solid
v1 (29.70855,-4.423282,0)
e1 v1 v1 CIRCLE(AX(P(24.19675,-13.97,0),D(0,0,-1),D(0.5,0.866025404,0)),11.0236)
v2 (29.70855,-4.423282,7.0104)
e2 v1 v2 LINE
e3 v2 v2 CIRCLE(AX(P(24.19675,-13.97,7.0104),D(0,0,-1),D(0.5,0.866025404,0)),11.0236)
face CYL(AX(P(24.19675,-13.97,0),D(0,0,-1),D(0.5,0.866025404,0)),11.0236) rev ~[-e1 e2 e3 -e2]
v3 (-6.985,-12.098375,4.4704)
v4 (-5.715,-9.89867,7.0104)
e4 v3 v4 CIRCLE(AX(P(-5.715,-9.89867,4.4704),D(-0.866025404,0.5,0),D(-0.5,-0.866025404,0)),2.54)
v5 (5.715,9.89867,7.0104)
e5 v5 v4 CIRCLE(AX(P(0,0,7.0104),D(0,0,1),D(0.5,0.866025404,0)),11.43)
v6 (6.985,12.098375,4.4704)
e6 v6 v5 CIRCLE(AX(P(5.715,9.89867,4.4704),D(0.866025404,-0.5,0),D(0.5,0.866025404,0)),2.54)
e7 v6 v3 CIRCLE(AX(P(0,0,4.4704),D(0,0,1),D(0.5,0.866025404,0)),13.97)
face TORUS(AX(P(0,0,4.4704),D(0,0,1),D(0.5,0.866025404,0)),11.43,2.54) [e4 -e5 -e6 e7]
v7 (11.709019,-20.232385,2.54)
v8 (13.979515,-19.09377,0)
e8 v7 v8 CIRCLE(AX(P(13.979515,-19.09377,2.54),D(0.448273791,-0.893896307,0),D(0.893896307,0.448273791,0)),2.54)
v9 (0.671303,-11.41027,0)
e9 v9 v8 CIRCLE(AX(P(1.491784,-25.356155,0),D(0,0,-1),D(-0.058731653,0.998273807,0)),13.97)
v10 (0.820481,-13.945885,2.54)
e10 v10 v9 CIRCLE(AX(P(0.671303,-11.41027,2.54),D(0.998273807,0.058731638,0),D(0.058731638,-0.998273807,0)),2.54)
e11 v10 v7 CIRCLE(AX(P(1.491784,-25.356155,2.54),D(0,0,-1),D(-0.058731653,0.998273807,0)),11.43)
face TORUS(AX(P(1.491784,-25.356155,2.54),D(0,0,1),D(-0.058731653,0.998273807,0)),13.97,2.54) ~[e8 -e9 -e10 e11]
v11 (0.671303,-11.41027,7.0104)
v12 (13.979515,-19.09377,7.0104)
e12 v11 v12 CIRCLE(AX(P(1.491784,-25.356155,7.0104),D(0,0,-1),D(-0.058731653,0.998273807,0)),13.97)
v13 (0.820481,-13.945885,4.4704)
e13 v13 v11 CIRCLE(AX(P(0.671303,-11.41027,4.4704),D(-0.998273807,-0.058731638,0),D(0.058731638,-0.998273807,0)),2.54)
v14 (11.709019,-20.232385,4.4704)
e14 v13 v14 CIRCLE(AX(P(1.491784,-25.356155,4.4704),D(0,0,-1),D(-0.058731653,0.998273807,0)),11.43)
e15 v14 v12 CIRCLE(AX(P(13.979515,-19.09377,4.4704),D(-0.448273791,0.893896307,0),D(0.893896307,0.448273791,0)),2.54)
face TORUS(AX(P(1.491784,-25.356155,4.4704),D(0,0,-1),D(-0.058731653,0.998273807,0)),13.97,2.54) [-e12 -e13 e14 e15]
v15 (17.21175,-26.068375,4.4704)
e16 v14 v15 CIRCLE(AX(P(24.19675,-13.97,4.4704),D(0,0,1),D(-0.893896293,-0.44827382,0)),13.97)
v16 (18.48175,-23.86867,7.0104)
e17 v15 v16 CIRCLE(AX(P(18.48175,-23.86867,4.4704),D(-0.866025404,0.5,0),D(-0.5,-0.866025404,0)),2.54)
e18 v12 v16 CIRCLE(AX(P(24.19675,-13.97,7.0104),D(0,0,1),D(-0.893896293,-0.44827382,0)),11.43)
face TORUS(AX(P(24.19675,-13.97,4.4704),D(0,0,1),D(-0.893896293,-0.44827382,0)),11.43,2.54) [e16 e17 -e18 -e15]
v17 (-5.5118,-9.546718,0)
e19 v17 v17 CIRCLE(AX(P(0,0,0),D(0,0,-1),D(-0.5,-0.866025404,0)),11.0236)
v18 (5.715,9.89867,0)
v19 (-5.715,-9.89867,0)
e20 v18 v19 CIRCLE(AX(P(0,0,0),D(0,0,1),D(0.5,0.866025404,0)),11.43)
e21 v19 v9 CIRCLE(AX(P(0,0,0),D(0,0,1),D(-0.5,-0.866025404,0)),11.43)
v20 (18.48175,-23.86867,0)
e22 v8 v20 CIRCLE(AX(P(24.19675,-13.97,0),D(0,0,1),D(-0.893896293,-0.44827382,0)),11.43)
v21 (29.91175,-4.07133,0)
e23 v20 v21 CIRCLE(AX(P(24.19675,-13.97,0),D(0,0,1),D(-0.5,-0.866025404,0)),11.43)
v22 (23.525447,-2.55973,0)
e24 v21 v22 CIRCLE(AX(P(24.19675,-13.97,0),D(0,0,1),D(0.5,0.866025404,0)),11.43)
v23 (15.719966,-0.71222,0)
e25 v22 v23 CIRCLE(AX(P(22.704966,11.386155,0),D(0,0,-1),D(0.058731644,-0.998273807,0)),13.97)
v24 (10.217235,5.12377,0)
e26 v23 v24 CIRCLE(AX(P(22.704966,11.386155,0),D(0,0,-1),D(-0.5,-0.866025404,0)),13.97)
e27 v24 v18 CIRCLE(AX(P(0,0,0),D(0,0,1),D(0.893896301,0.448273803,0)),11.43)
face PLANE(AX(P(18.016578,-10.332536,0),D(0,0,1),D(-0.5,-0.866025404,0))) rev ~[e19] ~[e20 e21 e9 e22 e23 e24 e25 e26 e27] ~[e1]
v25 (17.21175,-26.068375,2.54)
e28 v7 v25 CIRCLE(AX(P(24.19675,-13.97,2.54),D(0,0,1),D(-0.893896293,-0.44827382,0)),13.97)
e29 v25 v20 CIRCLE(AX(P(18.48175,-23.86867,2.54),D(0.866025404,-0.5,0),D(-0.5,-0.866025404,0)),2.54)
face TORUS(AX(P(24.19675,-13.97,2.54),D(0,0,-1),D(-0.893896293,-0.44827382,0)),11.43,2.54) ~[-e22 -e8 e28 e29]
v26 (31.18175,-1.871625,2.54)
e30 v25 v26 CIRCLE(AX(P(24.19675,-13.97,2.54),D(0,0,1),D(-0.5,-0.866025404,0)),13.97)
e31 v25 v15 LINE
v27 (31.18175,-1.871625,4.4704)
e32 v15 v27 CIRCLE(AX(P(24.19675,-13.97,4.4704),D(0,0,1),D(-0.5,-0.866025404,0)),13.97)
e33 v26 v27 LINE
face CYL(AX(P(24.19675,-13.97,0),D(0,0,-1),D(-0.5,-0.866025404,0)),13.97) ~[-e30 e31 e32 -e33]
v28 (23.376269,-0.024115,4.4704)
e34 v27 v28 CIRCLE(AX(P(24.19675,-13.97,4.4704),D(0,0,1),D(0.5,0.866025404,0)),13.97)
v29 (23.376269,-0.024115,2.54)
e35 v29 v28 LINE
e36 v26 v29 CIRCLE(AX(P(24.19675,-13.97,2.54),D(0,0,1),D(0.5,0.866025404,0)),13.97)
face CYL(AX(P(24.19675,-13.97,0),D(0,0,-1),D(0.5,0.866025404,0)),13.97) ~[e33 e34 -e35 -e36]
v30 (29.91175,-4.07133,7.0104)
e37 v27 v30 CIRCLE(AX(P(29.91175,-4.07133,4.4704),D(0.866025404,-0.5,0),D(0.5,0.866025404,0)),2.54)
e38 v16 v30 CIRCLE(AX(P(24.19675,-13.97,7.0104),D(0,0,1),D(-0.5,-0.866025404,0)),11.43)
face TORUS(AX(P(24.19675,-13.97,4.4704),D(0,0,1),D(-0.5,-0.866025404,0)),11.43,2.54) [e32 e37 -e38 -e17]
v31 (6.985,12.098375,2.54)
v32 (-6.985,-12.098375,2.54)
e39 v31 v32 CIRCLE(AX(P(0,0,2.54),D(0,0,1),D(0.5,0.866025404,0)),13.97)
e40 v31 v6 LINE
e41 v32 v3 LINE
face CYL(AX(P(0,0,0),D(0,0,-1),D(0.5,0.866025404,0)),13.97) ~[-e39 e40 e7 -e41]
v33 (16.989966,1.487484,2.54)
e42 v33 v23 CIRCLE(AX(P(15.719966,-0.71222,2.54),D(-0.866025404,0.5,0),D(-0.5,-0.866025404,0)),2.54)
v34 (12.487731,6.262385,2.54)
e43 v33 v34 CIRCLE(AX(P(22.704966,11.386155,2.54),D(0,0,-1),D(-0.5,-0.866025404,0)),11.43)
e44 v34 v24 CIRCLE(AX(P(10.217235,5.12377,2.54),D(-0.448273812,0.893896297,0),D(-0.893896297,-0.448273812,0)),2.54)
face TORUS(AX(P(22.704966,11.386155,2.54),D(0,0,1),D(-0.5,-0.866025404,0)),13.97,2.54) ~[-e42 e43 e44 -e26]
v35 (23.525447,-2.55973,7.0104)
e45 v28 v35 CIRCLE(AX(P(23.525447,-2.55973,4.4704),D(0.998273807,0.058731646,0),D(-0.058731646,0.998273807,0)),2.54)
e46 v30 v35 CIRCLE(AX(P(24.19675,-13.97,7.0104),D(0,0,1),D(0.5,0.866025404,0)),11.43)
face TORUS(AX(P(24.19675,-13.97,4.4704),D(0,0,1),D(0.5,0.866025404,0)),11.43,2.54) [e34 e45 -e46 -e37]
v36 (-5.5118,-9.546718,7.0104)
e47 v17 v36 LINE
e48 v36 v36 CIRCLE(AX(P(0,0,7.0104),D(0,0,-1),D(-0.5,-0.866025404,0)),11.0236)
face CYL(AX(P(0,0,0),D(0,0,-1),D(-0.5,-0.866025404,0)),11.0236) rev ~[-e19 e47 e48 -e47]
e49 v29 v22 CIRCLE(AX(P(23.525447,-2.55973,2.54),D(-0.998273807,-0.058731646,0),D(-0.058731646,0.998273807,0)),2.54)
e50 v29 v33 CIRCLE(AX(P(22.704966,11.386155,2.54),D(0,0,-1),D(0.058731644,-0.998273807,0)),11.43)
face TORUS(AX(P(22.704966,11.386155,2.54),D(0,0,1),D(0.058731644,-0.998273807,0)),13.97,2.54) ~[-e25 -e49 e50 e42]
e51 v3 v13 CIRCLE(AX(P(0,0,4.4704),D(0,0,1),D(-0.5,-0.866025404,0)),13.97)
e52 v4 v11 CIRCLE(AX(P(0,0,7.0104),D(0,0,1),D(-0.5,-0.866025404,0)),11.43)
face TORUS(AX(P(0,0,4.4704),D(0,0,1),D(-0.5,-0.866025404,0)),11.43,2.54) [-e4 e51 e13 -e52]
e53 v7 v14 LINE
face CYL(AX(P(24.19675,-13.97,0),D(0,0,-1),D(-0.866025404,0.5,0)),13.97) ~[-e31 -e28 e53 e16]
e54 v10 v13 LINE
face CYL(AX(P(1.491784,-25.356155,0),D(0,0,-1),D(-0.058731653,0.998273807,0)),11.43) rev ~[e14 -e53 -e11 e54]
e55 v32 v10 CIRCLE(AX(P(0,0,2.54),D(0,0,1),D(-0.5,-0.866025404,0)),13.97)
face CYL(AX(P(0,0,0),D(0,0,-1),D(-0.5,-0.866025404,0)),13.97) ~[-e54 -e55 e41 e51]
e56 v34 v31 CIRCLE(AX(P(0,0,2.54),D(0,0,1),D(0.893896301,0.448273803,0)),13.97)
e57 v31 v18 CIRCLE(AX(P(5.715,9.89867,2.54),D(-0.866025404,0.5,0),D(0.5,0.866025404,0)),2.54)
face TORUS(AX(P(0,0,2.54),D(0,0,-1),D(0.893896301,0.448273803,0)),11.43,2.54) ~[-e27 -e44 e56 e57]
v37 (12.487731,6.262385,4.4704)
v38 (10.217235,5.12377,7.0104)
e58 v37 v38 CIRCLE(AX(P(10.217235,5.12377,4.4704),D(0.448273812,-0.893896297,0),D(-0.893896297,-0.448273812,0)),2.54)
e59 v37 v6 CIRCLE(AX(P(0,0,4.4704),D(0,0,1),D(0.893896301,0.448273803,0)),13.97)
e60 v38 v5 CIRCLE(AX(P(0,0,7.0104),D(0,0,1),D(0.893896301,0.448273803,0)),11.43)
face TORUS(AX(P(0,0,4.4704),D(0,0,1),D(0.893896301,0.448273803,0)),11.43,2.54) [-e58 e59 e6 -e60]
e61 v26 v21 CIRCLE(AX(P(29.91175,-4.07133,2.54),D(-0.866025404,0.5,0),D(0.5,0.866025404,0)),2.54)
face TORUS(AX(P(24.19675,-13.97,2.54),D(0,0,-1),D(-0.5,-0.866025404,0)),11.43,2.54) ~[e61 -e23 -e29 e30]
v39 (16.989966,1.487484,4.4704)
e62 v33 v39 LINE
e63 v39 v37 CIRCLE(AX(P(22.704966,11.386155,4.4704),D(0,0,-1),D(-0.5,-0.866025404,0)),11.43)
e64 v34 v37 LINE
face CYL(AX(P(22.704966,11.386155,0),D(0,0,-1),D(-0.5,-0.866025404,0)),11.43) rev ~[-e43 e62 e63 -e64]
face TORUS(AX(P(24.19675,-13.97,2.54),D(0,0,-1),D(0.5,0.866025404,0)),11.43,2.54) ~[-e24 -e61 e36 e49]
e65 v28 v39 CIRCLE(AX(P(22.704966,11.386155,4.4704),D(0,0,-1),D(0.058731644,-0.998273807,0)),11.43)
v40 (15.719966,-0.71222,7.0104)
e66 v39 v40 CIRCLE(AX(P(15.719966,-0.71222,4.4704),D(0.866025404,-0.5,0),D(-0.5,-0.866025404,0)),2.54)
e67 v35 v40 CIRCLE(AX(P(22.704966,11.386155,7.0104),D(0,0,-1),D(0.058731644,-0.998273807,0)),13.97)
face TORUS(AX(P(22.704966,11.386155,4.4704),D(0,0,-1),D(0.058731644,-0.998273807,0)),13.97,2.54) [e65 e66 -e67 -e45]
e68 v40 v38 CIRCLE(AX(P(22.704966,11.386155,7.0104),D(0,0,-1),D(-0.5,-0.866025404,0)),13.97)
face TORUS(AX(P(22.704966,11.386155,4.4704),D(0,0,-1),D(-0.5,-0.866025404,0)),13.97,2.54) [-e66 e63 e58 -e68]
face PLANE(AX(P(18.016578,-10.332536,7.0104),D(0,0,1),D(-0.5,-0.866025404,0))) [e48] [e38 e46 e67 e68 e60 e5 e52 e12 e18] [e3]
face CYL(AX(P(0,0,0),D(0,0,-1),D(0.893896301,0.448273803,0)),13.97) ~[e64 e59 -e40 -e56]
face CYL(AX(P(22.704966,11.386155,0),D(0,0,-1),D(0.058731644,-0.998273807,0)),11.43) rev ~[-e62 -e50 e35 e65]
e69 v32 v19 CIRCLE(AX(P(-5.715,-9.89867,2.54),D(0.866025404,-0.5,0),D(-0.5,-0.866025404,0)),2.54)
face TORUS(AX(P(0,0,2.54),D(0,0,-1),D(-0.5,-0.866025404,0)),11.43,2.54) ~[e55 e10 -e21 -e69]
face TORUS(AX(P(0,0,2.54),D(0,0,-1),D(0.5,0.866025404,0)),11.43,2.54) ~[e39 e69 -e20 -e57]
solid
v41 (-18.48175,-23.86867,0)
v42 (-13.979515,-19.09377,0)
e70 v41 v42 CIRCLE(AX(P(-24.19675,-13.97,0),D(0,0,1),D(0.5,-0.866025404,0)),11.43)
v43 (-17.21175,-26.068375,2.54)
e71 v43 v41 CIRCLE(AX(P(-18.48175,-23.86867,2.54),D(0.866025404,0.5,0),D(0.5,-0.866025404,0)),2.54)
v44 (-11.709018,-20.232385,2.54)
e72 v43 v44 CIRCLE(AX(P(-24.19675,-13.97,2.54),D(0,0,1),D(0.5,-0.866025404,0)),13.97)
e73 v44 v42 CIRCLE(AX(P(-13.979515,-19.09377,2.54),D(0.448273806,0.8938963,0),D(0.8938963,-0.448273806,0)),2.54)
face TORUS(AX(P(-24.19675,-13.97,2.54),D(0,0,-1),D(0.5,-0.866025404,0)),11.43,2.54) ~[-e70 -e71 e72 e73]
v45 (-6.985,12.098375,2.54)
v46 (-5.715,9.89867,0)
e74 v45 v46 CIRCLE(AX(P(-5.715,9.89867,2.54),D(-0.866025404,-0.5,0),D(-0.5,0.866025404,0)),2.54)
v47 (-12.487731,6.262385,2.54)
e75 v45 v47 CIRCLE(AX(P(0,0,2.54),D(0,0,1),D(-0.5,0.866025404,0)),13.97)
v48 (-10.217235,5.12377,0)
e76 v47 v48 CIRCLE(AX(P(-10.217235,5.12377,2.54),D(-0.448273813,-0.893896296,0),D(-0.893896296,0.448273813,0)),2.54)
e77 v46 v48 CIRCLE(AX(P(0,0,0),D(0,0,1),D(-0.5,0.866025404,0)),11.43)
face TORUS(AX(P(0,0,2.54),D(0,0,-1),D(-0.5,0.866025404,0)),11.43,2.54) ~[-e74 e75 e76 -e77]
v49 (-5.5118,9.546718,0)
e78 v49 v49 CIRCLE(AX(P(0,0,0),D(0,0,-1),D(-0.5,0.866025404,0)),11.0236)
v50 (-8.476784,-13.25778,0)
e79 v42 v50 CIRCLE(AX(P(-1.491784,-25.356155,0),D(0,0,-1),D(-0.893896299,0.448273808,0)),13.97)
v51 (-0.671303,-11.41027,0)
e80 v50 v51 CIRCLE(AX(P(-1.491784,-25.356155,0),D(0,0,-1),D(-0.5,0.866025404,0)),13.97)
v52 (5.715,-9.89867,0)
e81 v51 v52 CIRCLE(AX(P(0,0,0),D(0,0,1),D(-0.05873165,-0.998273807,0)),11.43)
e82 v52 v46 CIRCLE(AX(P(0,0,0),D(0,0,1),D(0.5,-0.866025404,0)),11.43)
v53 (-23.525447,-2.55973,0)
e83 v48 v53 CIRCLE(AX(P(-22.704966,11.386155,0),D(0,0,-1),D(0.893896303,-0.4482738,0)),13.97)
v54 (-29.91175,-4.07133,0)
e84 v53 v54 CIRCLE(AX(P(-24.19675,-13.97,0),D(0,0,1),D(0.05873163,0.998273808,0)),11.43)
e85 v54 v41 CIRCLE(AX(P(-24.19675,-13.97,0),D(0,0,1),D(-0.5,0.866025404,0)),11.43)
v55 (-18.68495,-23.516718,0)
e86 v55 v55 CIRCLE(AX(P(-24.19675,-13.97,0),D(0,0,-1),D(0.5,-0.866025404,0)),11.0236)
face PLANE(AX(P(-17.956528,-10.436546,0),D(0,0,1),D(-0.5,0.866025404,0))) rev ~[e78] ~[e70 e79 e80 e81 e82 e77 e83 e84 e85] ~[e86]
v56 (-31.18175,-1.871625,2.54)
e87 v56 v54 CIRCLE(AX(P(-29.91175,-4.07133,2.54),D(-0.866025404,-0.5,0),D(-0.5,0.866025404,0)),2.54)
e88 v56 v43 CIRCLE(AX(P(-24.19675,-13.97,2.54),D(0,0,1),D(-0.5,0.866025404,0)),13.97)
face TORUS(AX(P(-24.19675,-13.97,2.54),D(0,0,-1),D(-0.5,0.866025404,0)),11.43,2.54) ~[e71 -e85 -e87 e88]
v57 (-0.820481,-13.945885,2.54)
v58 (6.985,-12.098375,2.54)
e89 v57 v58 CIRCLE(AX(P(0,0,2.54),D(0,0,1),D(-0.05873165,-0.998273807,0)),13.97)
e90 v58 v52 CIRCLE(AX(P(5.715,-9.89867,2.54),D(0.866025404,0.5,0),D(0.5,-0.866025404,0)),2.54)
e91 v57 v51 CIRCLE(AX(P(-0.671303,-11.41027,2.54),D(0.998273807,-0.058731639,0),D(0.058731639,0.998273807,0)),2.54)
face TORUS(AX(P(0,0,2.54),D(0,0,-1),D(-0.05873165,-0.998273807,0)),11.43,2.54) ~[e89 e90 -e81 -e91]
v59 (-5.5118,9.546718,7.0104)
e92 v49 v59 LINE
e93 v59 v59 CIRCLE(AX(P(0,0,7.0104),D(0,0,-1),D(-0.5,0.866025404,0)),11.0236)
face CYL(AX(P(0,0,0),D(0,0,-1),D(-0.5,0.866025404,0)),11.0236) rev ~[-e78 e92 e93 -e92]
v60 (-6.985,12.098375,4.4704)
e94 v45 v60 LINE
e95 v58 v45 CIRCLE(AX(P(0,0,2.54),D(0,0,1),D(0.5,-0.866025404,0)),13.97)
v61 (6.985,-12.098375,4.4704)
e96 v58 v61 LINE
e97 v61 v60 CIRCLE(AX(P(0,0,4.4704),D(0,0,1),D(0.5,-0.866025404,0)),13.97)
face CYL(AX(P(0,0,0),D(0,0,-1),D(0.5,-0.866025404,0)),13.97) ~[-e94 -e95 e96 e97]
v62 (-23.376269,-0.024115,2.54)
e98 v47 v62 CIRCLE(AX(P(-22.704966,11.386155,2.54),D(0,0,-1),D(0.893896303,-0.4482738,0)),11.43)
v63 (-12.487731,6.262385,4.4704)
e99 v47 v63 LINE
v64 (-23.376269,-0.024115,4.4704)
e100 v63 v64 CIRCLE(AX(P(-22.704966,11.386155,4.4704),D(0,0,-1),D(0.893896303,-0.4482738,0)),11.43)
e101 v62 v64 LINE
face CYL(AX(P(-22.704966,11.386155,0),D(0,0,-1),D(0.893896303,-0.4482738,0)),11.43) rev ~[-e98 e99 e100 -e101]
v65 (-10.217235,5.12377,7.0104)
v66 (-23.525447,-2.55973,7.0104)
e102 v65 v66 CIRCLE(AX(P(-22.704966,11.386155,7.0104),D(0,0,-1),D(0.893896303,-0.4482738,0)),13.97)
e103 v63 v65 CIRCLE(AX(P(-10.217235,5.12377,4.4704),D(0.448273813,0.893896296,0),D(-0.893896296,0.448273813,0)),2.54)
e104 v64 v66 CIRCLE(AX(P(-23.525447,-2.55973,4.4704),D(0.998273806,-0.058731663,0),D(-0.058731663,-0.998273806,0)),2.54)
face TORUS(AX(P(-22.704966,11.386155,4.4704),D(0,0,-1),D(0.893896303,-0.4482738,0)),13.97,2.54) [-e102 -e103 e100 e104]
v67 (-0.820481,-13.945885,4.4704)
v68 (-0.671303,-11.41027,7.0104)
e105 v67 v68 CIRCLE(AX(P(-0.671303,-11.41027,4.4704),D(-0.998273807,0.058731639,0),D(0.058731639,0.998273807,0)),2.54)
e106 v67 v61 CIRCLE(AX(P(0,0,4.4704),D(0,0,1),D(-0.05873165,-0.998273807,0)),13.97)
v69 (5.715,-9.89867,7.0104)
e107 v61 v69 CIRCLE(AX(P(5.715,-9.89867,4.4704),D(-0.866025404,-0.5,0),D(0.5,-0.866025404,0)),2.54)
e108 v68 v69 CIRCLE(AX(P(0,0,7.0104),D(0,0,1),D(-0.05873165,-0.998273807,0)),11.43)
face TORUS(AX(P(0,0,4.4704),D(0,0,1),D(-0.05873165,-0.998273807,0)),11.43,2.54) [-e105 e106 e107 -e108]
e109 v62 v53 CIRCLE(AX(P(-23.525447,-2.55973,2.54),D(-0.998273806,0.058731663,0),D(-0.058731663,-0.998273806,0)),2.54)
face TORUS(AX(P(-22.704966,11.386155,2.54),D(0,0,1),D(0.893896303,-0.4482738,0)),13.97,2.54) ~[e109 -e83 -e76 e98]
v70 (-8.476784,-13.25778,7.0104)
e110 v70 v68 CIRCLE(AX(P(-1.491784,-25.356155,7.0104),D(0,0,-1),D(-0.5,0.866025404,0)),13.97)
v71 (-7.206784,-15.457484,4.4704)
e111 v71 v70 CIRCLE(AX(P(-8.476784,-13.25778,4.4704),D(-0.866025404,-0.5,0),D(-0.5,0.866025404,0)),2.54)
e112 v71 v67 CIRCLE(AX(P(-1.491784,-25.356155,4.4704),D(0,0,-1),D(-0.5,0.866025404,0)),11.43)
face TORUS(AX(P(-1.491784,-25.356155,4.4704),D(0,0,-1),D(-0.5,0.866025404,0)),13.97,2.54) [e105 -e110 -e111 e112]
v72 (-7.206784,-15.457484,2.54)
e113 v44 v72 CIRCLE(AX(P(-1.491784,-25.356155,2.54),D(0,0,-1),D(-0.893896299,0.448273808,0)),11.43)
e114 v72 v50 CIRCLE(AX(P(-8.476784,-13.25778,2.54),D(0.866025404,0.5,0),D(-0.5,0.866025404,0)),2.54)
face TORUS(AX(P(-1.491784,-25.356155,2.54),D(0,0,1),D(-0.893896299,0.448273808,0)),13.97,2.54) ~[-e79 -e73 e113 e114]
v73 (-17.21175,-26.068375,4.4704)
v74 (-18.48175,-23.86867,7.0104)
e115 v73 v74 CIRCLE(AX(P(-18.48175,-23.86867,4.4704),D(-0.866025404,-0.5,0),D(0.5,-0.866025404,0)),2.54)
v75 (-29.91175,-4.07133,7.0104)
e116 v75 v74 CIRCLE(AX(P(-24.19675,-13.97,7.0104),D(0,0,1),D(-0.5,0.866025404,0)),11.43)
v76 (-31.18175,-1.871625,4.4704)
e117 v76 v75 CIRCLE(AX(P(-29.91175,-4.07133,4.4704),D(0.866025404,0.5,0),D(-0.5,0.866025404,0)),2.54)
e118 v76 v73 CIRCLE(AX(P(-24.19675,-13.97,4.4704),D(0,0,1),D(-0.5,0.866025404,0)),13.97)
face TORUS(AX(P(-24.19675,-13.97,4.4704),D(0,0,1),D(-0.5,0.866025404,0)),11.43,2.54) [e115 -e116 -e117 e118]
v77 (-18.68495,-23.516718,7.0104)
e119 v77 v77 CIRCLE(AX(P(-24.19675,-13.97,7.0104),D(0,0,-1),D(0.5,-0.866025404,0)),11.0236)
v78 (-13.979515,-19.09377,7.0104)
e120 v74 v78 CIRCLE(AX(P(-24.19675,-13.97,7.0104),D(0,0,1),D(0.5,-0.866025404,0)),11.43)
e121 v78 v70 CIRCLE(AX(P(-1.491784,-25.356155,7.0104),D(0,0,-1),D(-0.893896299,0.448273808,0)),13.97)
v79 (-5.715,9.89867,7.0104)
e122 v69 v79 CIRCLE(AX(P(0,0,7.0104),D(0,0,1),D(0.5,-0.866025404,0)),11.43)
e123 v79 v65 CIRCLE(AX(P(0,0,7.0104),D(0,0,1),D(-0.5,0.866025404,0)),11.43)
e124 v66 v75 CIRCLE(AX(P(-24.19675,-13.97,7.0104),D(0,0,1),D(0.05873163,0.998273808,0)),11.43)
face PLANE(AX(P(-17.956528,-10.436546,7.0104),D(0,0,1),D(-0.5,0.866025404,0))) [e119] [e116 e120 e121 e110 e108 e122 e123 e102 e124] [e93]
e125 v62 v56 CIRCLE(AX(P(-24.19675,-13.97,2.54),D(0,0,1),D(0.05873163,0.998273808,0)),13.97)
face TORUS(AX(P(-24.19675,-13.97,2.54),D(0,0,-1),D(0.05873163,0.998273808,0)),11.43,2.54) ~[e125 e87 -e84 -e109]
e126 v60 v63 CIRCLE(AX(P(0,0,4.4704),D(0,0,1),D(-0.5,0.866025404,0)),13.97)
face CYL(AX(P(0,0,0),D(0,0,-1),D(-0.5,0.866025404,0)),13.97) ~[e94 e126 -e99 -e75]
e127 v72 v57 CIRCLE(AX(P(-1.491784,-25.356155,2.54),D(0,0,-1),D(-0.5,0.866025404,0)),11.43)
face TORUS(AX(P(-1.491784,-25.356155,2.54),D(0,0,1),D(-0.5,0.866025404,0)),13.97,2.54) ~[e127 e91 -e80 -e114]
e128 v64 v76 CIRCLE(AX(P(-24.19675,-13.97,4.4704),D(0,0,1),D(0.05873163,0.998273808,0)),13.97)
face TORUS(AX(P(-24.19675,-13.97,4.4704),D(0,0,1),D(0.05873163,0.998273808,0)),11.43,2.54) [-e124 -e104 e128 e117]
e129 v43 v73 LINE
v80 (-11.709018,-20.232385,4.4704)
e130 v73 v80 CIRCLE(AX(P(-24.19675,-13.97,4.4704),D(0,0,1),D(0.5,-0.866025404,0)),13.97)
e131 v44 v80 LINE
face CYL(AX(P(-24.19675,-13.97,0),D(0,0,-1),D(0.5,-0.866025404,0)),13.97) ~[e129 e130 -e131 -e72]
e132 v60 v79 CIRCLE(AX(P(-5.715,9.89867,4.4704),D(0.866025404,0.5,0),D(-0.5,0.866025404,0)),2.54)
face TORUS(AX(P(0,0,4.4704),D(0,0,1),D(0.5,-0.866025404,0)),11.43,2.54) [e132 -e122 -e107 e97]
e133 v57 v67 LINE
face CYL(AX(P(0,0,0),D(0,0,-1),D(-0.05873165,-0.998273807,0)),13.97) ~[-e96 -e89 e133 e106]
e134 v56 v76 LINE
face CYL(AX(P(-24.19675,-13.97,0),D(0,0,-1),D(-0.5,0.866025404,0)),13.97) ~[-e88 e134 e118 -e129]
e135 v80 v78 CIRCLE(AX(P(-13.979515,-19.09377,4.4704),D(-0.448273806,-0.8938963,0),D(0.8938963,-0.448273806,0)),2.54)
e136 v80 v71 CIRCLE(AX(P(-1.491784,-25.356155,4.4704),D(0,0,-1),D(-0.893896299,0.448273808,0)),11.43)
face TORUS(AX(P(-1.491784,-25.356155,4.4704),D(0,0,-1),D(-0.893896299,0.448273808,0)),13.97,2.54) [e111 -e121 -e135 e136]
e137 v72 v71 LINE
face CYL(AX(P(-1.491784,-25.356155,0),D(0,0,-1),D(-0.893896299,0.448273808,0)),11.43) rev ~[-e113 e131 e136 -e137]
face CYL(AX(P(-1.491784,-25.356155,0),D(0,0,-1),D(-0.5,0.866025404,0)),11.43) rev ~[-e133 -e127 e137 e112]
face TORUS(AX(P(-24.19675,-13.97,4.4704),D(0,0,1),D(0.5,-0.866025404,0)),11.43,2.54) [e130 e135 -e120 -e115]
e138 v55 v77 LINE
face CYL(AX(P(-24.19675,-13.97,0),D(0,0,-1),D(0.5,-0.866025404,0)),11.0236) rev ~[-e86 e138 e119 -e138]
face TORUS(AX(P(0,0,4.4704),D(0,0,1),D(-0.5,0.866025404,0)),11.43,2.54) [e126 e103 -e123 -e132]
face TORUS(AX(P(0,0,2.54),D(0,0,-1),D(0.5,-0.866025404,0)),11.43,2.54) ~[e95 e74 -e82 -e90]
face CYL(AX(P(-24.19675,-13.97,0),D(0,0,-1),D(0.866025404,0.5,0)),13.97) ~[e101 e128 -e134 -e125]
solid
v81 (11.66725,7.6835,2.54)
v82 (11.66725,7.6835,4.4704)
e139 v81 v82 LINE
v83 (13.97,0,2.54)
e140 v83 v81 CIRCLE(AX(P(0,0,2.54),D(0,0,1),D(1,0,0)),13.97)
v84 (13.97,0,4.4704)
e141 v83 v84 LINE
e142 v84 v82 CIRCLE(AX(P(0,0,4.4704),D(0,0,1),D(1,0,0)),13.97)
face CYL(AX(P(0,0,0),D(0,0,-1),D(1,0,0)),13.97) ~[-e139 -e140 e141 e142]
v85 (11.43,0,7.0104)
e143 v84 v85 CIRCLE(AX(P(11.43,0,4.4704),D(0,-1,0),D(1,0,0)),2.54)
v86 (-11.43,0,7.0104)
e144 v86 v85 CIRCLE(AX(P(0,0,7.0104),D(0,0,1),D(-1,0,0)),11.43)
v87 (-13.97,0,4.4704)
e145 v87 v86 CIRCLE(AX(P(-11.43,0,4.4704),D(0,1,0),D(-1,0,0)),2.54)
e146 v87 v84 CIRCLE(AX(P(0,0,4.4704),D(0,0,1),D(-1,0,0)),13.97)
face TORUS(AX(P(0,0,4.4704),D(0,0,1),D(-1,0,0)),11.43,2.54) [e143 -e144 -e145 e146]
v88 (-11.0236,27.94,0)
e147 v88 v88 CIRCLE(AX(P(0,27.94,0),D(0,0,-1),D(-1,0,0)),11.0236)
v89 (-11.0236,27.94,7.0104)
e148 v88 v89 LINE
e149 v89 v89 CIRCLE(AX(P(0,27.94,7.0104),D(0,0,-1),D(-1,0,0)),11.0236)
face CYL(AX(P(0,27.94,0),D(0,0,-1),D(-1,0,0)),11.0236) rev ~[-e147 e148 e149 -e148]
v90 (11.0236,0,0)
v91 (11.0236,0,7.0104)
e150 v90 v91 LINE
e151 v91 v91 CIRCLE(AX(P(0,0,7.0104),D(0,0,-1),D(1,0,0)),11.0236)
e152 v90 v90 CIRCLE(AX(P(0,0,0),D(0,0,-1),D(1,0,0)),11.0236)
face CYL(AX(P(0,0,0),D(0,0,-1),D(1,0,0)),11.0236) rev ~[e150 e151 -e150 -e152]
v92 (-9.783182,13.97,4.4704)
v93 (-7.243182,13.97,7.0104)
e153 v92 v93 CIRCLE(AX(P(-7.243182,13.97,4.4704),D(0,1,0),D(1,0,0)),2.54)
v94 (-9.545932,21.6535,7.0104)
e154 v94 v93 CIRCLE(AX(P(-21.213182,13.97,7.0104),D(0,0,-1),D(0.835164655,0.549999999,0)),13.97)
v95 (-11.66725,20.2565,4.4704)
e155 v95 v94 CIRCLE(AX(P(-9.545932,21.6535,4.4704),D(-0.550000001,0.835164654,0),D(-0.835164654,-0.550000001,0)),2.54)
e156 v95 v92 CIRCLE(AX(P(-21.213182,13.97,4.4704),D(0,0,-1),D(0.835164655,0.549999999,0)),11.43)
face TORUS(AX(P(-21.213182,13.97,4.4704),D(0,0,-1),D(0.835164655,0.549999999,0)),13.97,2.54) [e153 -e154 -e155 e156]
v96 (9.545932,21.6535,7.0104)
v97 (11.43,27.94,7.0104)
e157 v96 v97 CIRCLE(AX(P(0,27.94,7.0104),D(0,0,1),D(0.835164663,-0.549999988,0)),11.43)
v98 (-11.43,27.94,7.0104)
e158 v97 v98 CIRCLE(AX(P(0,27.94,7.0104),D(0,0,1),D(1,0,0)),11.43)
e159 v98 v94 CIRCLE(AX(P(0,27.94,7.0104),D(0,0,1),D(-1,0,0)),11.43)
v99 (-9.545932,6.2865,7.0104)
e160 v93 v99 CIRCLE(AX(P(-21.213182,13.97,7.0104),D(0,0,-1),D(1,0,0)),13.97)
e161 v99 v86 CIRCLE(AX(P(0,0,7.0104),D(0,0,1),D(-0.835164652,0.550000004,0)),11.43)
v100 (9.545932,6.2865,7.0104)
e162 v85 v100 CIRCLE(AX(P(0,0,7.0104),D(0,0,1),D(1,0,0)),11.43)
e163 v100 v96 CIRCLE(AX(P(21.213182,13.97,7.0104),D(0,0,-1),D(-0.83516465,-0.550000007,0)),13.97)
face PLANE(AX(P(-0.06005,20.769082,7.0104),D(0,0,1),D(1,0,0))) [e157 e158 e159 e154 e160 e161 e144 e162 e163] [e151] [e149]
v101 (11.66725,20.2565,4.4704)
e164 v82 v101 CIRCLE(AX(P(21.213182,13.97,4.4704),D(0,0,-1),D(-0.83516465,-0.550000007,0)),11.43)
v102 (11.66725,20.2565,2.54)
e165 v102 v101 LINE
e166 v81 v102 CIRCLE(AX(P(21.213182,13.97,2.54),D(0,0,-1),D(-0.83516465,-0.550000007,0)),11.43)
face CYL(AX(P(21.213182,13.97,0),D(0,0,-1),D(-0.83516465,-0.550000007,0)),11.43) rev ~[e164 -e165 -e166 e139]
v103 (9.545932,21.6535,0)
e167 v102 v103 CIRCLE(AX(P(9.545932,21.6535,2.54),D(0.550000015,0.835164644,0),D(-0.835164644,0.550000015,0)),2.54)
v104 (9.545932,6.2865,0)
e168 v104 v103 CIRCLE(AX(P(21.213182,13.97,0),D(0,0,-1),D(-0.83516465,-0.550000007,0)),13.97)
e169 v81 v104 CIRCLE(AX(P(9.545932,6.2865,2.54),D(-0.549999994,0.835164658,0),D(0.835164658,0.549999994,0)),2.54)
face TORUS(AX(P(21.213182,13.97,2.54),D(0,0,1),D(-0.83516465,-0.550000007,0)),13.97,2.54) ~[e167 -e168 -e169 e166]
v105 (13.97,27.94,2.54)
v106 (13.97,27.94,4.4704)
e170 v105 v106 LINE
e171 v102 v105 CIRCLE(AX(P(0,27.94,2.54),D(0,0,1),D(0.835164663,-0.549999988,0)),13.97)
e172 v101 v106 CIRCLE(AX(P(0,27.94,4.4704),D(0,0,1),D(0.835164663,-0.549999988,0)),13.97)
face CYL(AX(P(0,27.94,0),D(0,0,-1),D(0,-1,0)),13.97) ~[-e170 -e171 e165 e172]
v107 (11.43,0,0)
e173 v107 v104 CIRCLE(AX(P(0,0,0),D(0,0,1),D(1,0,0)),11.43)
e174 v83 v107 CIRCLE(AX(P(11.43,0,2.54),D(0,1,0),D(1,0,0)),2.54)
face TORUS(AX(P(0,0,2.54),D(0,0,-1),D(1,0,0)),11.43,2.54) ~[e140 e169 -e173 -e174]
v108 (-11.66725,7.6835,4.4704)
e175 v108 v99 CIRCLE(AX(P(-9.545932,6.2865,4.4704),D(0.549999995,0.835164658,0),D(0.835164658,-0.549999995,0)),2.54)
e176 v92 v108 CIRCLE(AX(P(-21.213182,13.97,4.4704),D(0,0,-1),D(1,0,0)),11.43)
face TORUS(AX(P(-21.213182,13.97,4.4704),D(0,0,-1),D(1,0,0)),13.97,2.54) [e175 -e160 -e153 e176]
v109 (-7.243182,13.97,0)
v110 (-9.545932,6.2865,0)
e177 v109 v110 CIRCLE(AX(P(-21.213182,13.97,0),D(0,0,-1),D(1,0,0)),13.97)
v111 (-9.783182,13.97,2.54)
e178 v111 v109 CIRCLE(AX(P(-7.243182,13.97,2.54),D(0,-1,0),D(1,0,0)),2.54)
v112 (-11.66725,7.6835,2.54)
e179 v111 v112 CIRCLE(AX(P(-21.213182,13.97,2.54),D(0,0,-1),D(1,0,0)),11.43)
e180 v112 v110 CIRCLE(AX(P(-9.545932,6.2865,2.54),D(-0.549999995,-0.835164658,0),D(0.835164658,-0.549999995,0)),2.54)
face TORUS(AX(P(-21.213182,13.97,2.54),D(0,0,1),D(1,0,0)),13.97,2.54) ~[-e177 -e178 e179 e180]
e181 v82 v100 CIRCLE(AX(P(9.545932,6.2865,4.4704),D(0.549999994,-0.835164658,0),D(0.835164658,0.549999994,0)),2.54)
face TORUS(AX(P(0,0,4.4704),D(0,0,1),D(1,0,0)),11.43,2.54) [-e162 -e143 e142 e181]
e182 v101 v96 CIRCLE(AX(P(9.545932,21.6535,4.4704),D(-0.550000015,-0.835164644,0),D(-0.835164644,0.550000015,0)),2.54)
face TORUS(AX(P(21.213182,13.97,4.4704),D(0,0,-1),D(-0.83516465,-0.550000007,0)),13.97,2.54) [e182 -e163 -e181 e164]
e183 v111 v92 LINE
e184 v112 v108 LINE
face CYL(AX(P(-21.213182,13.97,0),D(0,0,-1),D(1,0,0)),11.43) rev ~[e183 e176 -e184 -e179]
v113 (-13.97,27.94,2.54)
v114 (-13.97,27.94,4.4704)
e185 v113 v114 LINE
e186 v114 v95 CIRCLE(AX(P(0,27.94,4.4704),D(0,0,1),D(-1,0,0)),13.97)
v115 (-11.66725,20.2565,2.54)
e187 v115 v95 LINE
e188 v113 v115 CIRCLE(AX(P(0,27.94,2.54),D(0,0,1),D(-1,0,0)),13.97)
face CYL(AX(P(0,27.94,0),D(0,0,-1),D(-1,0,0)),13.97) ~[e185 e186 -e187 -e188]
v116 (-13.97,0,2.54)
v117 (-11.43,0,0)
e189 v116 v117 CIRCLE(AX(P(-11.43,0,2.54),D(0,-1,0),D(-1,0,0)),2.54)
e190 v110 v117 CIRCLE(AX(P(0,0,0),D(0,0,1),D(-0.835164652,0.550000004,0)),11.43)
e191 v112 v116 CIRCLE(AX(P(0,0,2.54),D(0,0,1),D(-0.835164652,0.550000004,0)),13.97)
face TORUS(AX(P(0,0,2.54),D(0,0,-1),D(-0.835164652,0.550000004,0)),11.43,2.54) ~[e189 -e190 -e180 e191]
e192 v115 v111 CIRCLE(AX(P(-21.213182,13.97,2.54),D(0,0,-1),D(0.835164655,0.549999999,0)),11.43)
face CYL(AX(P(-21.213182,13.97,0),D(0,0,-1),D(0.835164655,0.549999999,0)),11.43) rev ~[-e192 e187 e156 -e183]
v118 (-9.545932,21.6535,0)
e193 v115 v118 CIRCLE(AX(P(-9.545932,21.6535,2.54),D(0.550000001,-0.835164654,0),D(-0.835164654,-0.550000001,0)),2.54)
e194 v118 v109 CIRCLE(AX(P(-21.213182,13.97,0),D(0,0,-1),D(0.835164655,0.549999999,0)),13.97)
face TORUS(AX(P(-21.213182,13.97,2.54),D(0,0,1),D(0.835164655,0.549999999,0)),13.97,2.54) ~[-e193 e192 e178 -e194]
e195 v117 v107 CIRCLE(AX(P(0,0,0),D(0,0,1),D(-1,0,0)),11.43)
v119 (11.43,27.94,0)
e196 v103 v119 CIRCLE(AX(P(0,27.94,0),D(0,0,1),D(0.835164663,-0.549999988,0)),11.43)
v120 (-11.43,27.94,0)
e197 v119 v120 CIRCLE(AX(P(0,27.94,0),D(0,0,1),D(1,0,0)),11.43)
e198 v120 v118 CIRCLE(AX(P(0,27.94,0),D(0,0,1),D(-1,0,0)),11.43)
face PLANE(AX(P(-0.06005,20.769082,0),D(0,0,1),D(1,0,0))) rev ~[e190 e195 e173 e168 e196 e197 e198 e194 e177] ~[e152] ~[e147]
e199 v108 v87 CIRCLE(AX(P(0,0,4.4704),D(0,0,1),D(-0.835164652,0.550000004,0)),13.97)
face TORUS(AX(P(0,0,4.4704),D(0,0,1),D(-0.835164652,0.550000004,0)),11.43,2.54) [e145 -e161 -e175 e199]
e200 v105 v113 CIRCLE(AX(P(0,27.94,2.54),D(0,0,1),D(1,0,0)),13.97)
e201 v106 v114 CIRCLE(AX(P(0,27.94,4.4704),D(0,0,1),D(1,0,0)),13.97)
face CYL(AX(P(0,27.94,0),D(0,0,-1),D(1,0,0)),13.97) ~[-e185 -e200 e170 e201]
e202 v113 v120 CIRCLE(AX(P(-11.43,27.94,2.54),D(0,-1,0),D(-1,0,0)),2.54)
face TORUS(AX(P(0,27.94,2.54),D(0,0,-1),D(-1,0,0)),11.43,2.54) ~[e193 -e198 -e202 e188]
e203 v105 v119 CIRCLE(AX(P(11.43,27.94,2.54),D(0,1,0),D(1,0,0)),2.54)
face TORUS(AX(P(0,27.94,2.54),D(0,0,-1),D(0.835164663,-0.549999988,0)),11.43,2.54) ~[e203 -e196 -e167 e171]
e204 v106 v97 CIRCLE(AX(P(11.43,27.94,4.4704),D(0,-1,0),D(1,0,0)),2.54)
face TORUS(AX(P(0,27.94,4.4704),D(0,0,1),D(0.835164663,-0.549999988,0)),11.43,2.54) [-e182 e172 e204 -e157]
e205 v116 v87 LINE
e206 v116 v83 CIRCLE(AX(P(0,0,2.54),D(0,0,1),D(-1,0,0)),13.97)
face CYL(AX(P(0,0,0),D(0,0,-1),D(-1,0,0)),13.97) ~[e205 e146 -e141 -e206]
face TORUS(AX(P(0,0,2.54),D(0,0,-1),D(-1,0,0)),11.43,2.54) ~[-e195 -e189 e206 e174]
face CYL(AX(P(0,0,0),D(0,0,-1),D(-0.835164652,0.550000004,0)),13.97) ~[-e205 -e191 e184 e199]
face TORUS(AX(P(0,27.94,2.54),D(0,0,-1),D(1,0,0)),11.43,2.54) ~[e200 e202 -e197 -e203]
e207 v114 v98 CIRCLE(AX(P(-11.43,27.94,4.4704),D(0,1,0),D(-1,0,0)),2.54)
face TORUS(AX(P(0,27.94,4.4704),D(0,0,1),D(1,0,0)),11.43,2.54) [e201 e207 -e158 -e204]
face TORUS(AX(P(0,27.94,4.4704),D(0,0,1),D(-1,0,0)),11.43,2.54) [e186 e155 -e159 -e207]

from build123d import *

# Parameters (mm, degrees)
F1_DEPTH = 7.0104
F3_COUNT = 3
F4_R     = 2.54
F4_2_R   = 2.54
F4_3_R   = 2.54


with BuildPart() as f1:
    # F0 (on Top) → F1 (new body)
    with BuildSketch(Plane.XY):
        with BuildLine():
            ThreePointArc((-11.6672502142, 20.2564999878), (-6.6265528304, 15.6416384187), (0, 13.97))
            ThreePointArc((0, 13.97), (6.6265529279, 15.6416384712), (11.667250336, 20.2565001727))
            ThreePointArc((11.667250336, 20.2565001727), (13.3819353457, 23.9294256767), (13.97, 27.94))
            Line((13.97, 27.94), (11.0236, 27.94))
            ThreePointArc((11.0236, 27.94), (0, 16.9164), (-11.0236, 27.94))
            Line((-11.0236, 27.94), (-13.97, 27.94))
            ThreePointArc((-13.97, 27.94), (-13.3819353139, 23.9294255706), (-11.6672502142, 20.2564999878))
        make_face()
        with BuildLine():
            Line((11.0236, 27.94), (13.97, 27.94))
            ThreePointArc((13.97, 27.94), (0, 41.91), (-13.97, 27.94))
            Line((-13.97, 27.94), (-11.0236, 27.94))
            ThreePointArc((-11.0236, 27.94), (0, 38.9636), (11.0236, 27.94))
        make_face()
        with BuildLine():
            ThreePointArc((0, 13.97), (6.6265528792, 12.2983615551), (11.6672502751, 7.6834999198))
            ThreePointArc((11.6672502751, 7.6834999198), (9.7831822224, 13.9700000554), (11.667250336, 20.2565001727))
            ThreePointArc((11.667250336, 20.2565001727), (6.6265529279, 15.6416384712), (0, 13.97))
        make_face()
        with BuildLine():
            ThreePointArc((-9.7831822224, 13.97), (-10.2643260451, 10.6886209592), (-11.6672501855, 7.6835000559))
            ThreePointArc((-11.6672501855, 7.6835000559), (-6.6265528074, 12.2983615937), (0, 13.97))
            ThreePointArc((0, 13.97), (-6.6265528304, 15.6416384187), (-11.6672502142, 20.2564999878))
            ThreePointArc((-11.6672502142, 20.2564999878), (-10.2643260526, 17.2513790658), (-9.7831822224, 13.97))
        make_face()
        with BuildLine():
            Line((13.97, 0), (11.0236, 0))
            ThreePointArc((11.0236, 0), (0, -11.0236), (-11.0236, 0))
            Line((-11.0236, 0), (-13.97, 0))
            ThreePointArc((-13.97, 0), (0, -13.97), (13.97, 0))
        make_face()
        with BuildLine():
            ThreePointArc((-11.0236, 0), (0, 11.0236), (11.0236, 0))
            Line((11.0236, 0), (13.97, 0))
            ThreePointArc((13.97, 0), (13.3819353298, 4.0105743763), (11.6672502751, 7.6834999198))
            ThreePointArc((11.6672502751, 7.6834999198), (6.6265528792, 12.2983615551), (0, 13.97))
            ThreePointArc((0, 13.97), (-6.6265528074, 12.2983615937), (-11.6672501855, 7.6835000559))
            ThreePointArc((-11.6672501855, 7.6835000559), (-13.3819353064, 4.0105744544), (-13.97, 0))
            Line((-13.97, 0), (-11.0236, 0))
        make_face()
    extrude(amount=F1_DEPTH)


with BuildPart() as f3_1:
    # F3: instance of F1
    add(f1.part.rotate(Axis((0, 0, 0), (0, 0, 1)), 1 * 360 / F3_COUNT))

    # F4
    f4_edges = [f3_1.edges().sort_by_distance(p)[0] for p in [
        (-36.295125, -20.955, 7.0104),
        (-36.295125, -20.955, 0),
    ]]
    fillet(f4_edges, radius=F4_R)


with BuildPart() as f3_2:
    # F3: instance of F1
    add(f1.part.rotate(Axis((0, 0, 0), (0, 0, 1)), 2 * 360 / F3_COUNT))

    # F4#2
    f4_2_edges = [f3_2.edges().sort_by_distance(p)[0] for p in [
        (36.295125, -20.955, 7.0104),
        (36.295125, -20.955, 0),
    ]]
    fillet(f4_2_edges, radius=F4_2_R)


with BuildPart() as f1_1:
    add(f1.part)

    # F4#3
    f4_3_edges = [f1_1.edges().sort_by_distance(p)[0] for p in [
        (0, 41.91, 7.0104),
        (0, 41.91, 0),
    ]]
    fillet(f4_3_edges, radius=F4_3_R)


solid = Compound([f3_1.part, f3_2.part, f1_1.part])
